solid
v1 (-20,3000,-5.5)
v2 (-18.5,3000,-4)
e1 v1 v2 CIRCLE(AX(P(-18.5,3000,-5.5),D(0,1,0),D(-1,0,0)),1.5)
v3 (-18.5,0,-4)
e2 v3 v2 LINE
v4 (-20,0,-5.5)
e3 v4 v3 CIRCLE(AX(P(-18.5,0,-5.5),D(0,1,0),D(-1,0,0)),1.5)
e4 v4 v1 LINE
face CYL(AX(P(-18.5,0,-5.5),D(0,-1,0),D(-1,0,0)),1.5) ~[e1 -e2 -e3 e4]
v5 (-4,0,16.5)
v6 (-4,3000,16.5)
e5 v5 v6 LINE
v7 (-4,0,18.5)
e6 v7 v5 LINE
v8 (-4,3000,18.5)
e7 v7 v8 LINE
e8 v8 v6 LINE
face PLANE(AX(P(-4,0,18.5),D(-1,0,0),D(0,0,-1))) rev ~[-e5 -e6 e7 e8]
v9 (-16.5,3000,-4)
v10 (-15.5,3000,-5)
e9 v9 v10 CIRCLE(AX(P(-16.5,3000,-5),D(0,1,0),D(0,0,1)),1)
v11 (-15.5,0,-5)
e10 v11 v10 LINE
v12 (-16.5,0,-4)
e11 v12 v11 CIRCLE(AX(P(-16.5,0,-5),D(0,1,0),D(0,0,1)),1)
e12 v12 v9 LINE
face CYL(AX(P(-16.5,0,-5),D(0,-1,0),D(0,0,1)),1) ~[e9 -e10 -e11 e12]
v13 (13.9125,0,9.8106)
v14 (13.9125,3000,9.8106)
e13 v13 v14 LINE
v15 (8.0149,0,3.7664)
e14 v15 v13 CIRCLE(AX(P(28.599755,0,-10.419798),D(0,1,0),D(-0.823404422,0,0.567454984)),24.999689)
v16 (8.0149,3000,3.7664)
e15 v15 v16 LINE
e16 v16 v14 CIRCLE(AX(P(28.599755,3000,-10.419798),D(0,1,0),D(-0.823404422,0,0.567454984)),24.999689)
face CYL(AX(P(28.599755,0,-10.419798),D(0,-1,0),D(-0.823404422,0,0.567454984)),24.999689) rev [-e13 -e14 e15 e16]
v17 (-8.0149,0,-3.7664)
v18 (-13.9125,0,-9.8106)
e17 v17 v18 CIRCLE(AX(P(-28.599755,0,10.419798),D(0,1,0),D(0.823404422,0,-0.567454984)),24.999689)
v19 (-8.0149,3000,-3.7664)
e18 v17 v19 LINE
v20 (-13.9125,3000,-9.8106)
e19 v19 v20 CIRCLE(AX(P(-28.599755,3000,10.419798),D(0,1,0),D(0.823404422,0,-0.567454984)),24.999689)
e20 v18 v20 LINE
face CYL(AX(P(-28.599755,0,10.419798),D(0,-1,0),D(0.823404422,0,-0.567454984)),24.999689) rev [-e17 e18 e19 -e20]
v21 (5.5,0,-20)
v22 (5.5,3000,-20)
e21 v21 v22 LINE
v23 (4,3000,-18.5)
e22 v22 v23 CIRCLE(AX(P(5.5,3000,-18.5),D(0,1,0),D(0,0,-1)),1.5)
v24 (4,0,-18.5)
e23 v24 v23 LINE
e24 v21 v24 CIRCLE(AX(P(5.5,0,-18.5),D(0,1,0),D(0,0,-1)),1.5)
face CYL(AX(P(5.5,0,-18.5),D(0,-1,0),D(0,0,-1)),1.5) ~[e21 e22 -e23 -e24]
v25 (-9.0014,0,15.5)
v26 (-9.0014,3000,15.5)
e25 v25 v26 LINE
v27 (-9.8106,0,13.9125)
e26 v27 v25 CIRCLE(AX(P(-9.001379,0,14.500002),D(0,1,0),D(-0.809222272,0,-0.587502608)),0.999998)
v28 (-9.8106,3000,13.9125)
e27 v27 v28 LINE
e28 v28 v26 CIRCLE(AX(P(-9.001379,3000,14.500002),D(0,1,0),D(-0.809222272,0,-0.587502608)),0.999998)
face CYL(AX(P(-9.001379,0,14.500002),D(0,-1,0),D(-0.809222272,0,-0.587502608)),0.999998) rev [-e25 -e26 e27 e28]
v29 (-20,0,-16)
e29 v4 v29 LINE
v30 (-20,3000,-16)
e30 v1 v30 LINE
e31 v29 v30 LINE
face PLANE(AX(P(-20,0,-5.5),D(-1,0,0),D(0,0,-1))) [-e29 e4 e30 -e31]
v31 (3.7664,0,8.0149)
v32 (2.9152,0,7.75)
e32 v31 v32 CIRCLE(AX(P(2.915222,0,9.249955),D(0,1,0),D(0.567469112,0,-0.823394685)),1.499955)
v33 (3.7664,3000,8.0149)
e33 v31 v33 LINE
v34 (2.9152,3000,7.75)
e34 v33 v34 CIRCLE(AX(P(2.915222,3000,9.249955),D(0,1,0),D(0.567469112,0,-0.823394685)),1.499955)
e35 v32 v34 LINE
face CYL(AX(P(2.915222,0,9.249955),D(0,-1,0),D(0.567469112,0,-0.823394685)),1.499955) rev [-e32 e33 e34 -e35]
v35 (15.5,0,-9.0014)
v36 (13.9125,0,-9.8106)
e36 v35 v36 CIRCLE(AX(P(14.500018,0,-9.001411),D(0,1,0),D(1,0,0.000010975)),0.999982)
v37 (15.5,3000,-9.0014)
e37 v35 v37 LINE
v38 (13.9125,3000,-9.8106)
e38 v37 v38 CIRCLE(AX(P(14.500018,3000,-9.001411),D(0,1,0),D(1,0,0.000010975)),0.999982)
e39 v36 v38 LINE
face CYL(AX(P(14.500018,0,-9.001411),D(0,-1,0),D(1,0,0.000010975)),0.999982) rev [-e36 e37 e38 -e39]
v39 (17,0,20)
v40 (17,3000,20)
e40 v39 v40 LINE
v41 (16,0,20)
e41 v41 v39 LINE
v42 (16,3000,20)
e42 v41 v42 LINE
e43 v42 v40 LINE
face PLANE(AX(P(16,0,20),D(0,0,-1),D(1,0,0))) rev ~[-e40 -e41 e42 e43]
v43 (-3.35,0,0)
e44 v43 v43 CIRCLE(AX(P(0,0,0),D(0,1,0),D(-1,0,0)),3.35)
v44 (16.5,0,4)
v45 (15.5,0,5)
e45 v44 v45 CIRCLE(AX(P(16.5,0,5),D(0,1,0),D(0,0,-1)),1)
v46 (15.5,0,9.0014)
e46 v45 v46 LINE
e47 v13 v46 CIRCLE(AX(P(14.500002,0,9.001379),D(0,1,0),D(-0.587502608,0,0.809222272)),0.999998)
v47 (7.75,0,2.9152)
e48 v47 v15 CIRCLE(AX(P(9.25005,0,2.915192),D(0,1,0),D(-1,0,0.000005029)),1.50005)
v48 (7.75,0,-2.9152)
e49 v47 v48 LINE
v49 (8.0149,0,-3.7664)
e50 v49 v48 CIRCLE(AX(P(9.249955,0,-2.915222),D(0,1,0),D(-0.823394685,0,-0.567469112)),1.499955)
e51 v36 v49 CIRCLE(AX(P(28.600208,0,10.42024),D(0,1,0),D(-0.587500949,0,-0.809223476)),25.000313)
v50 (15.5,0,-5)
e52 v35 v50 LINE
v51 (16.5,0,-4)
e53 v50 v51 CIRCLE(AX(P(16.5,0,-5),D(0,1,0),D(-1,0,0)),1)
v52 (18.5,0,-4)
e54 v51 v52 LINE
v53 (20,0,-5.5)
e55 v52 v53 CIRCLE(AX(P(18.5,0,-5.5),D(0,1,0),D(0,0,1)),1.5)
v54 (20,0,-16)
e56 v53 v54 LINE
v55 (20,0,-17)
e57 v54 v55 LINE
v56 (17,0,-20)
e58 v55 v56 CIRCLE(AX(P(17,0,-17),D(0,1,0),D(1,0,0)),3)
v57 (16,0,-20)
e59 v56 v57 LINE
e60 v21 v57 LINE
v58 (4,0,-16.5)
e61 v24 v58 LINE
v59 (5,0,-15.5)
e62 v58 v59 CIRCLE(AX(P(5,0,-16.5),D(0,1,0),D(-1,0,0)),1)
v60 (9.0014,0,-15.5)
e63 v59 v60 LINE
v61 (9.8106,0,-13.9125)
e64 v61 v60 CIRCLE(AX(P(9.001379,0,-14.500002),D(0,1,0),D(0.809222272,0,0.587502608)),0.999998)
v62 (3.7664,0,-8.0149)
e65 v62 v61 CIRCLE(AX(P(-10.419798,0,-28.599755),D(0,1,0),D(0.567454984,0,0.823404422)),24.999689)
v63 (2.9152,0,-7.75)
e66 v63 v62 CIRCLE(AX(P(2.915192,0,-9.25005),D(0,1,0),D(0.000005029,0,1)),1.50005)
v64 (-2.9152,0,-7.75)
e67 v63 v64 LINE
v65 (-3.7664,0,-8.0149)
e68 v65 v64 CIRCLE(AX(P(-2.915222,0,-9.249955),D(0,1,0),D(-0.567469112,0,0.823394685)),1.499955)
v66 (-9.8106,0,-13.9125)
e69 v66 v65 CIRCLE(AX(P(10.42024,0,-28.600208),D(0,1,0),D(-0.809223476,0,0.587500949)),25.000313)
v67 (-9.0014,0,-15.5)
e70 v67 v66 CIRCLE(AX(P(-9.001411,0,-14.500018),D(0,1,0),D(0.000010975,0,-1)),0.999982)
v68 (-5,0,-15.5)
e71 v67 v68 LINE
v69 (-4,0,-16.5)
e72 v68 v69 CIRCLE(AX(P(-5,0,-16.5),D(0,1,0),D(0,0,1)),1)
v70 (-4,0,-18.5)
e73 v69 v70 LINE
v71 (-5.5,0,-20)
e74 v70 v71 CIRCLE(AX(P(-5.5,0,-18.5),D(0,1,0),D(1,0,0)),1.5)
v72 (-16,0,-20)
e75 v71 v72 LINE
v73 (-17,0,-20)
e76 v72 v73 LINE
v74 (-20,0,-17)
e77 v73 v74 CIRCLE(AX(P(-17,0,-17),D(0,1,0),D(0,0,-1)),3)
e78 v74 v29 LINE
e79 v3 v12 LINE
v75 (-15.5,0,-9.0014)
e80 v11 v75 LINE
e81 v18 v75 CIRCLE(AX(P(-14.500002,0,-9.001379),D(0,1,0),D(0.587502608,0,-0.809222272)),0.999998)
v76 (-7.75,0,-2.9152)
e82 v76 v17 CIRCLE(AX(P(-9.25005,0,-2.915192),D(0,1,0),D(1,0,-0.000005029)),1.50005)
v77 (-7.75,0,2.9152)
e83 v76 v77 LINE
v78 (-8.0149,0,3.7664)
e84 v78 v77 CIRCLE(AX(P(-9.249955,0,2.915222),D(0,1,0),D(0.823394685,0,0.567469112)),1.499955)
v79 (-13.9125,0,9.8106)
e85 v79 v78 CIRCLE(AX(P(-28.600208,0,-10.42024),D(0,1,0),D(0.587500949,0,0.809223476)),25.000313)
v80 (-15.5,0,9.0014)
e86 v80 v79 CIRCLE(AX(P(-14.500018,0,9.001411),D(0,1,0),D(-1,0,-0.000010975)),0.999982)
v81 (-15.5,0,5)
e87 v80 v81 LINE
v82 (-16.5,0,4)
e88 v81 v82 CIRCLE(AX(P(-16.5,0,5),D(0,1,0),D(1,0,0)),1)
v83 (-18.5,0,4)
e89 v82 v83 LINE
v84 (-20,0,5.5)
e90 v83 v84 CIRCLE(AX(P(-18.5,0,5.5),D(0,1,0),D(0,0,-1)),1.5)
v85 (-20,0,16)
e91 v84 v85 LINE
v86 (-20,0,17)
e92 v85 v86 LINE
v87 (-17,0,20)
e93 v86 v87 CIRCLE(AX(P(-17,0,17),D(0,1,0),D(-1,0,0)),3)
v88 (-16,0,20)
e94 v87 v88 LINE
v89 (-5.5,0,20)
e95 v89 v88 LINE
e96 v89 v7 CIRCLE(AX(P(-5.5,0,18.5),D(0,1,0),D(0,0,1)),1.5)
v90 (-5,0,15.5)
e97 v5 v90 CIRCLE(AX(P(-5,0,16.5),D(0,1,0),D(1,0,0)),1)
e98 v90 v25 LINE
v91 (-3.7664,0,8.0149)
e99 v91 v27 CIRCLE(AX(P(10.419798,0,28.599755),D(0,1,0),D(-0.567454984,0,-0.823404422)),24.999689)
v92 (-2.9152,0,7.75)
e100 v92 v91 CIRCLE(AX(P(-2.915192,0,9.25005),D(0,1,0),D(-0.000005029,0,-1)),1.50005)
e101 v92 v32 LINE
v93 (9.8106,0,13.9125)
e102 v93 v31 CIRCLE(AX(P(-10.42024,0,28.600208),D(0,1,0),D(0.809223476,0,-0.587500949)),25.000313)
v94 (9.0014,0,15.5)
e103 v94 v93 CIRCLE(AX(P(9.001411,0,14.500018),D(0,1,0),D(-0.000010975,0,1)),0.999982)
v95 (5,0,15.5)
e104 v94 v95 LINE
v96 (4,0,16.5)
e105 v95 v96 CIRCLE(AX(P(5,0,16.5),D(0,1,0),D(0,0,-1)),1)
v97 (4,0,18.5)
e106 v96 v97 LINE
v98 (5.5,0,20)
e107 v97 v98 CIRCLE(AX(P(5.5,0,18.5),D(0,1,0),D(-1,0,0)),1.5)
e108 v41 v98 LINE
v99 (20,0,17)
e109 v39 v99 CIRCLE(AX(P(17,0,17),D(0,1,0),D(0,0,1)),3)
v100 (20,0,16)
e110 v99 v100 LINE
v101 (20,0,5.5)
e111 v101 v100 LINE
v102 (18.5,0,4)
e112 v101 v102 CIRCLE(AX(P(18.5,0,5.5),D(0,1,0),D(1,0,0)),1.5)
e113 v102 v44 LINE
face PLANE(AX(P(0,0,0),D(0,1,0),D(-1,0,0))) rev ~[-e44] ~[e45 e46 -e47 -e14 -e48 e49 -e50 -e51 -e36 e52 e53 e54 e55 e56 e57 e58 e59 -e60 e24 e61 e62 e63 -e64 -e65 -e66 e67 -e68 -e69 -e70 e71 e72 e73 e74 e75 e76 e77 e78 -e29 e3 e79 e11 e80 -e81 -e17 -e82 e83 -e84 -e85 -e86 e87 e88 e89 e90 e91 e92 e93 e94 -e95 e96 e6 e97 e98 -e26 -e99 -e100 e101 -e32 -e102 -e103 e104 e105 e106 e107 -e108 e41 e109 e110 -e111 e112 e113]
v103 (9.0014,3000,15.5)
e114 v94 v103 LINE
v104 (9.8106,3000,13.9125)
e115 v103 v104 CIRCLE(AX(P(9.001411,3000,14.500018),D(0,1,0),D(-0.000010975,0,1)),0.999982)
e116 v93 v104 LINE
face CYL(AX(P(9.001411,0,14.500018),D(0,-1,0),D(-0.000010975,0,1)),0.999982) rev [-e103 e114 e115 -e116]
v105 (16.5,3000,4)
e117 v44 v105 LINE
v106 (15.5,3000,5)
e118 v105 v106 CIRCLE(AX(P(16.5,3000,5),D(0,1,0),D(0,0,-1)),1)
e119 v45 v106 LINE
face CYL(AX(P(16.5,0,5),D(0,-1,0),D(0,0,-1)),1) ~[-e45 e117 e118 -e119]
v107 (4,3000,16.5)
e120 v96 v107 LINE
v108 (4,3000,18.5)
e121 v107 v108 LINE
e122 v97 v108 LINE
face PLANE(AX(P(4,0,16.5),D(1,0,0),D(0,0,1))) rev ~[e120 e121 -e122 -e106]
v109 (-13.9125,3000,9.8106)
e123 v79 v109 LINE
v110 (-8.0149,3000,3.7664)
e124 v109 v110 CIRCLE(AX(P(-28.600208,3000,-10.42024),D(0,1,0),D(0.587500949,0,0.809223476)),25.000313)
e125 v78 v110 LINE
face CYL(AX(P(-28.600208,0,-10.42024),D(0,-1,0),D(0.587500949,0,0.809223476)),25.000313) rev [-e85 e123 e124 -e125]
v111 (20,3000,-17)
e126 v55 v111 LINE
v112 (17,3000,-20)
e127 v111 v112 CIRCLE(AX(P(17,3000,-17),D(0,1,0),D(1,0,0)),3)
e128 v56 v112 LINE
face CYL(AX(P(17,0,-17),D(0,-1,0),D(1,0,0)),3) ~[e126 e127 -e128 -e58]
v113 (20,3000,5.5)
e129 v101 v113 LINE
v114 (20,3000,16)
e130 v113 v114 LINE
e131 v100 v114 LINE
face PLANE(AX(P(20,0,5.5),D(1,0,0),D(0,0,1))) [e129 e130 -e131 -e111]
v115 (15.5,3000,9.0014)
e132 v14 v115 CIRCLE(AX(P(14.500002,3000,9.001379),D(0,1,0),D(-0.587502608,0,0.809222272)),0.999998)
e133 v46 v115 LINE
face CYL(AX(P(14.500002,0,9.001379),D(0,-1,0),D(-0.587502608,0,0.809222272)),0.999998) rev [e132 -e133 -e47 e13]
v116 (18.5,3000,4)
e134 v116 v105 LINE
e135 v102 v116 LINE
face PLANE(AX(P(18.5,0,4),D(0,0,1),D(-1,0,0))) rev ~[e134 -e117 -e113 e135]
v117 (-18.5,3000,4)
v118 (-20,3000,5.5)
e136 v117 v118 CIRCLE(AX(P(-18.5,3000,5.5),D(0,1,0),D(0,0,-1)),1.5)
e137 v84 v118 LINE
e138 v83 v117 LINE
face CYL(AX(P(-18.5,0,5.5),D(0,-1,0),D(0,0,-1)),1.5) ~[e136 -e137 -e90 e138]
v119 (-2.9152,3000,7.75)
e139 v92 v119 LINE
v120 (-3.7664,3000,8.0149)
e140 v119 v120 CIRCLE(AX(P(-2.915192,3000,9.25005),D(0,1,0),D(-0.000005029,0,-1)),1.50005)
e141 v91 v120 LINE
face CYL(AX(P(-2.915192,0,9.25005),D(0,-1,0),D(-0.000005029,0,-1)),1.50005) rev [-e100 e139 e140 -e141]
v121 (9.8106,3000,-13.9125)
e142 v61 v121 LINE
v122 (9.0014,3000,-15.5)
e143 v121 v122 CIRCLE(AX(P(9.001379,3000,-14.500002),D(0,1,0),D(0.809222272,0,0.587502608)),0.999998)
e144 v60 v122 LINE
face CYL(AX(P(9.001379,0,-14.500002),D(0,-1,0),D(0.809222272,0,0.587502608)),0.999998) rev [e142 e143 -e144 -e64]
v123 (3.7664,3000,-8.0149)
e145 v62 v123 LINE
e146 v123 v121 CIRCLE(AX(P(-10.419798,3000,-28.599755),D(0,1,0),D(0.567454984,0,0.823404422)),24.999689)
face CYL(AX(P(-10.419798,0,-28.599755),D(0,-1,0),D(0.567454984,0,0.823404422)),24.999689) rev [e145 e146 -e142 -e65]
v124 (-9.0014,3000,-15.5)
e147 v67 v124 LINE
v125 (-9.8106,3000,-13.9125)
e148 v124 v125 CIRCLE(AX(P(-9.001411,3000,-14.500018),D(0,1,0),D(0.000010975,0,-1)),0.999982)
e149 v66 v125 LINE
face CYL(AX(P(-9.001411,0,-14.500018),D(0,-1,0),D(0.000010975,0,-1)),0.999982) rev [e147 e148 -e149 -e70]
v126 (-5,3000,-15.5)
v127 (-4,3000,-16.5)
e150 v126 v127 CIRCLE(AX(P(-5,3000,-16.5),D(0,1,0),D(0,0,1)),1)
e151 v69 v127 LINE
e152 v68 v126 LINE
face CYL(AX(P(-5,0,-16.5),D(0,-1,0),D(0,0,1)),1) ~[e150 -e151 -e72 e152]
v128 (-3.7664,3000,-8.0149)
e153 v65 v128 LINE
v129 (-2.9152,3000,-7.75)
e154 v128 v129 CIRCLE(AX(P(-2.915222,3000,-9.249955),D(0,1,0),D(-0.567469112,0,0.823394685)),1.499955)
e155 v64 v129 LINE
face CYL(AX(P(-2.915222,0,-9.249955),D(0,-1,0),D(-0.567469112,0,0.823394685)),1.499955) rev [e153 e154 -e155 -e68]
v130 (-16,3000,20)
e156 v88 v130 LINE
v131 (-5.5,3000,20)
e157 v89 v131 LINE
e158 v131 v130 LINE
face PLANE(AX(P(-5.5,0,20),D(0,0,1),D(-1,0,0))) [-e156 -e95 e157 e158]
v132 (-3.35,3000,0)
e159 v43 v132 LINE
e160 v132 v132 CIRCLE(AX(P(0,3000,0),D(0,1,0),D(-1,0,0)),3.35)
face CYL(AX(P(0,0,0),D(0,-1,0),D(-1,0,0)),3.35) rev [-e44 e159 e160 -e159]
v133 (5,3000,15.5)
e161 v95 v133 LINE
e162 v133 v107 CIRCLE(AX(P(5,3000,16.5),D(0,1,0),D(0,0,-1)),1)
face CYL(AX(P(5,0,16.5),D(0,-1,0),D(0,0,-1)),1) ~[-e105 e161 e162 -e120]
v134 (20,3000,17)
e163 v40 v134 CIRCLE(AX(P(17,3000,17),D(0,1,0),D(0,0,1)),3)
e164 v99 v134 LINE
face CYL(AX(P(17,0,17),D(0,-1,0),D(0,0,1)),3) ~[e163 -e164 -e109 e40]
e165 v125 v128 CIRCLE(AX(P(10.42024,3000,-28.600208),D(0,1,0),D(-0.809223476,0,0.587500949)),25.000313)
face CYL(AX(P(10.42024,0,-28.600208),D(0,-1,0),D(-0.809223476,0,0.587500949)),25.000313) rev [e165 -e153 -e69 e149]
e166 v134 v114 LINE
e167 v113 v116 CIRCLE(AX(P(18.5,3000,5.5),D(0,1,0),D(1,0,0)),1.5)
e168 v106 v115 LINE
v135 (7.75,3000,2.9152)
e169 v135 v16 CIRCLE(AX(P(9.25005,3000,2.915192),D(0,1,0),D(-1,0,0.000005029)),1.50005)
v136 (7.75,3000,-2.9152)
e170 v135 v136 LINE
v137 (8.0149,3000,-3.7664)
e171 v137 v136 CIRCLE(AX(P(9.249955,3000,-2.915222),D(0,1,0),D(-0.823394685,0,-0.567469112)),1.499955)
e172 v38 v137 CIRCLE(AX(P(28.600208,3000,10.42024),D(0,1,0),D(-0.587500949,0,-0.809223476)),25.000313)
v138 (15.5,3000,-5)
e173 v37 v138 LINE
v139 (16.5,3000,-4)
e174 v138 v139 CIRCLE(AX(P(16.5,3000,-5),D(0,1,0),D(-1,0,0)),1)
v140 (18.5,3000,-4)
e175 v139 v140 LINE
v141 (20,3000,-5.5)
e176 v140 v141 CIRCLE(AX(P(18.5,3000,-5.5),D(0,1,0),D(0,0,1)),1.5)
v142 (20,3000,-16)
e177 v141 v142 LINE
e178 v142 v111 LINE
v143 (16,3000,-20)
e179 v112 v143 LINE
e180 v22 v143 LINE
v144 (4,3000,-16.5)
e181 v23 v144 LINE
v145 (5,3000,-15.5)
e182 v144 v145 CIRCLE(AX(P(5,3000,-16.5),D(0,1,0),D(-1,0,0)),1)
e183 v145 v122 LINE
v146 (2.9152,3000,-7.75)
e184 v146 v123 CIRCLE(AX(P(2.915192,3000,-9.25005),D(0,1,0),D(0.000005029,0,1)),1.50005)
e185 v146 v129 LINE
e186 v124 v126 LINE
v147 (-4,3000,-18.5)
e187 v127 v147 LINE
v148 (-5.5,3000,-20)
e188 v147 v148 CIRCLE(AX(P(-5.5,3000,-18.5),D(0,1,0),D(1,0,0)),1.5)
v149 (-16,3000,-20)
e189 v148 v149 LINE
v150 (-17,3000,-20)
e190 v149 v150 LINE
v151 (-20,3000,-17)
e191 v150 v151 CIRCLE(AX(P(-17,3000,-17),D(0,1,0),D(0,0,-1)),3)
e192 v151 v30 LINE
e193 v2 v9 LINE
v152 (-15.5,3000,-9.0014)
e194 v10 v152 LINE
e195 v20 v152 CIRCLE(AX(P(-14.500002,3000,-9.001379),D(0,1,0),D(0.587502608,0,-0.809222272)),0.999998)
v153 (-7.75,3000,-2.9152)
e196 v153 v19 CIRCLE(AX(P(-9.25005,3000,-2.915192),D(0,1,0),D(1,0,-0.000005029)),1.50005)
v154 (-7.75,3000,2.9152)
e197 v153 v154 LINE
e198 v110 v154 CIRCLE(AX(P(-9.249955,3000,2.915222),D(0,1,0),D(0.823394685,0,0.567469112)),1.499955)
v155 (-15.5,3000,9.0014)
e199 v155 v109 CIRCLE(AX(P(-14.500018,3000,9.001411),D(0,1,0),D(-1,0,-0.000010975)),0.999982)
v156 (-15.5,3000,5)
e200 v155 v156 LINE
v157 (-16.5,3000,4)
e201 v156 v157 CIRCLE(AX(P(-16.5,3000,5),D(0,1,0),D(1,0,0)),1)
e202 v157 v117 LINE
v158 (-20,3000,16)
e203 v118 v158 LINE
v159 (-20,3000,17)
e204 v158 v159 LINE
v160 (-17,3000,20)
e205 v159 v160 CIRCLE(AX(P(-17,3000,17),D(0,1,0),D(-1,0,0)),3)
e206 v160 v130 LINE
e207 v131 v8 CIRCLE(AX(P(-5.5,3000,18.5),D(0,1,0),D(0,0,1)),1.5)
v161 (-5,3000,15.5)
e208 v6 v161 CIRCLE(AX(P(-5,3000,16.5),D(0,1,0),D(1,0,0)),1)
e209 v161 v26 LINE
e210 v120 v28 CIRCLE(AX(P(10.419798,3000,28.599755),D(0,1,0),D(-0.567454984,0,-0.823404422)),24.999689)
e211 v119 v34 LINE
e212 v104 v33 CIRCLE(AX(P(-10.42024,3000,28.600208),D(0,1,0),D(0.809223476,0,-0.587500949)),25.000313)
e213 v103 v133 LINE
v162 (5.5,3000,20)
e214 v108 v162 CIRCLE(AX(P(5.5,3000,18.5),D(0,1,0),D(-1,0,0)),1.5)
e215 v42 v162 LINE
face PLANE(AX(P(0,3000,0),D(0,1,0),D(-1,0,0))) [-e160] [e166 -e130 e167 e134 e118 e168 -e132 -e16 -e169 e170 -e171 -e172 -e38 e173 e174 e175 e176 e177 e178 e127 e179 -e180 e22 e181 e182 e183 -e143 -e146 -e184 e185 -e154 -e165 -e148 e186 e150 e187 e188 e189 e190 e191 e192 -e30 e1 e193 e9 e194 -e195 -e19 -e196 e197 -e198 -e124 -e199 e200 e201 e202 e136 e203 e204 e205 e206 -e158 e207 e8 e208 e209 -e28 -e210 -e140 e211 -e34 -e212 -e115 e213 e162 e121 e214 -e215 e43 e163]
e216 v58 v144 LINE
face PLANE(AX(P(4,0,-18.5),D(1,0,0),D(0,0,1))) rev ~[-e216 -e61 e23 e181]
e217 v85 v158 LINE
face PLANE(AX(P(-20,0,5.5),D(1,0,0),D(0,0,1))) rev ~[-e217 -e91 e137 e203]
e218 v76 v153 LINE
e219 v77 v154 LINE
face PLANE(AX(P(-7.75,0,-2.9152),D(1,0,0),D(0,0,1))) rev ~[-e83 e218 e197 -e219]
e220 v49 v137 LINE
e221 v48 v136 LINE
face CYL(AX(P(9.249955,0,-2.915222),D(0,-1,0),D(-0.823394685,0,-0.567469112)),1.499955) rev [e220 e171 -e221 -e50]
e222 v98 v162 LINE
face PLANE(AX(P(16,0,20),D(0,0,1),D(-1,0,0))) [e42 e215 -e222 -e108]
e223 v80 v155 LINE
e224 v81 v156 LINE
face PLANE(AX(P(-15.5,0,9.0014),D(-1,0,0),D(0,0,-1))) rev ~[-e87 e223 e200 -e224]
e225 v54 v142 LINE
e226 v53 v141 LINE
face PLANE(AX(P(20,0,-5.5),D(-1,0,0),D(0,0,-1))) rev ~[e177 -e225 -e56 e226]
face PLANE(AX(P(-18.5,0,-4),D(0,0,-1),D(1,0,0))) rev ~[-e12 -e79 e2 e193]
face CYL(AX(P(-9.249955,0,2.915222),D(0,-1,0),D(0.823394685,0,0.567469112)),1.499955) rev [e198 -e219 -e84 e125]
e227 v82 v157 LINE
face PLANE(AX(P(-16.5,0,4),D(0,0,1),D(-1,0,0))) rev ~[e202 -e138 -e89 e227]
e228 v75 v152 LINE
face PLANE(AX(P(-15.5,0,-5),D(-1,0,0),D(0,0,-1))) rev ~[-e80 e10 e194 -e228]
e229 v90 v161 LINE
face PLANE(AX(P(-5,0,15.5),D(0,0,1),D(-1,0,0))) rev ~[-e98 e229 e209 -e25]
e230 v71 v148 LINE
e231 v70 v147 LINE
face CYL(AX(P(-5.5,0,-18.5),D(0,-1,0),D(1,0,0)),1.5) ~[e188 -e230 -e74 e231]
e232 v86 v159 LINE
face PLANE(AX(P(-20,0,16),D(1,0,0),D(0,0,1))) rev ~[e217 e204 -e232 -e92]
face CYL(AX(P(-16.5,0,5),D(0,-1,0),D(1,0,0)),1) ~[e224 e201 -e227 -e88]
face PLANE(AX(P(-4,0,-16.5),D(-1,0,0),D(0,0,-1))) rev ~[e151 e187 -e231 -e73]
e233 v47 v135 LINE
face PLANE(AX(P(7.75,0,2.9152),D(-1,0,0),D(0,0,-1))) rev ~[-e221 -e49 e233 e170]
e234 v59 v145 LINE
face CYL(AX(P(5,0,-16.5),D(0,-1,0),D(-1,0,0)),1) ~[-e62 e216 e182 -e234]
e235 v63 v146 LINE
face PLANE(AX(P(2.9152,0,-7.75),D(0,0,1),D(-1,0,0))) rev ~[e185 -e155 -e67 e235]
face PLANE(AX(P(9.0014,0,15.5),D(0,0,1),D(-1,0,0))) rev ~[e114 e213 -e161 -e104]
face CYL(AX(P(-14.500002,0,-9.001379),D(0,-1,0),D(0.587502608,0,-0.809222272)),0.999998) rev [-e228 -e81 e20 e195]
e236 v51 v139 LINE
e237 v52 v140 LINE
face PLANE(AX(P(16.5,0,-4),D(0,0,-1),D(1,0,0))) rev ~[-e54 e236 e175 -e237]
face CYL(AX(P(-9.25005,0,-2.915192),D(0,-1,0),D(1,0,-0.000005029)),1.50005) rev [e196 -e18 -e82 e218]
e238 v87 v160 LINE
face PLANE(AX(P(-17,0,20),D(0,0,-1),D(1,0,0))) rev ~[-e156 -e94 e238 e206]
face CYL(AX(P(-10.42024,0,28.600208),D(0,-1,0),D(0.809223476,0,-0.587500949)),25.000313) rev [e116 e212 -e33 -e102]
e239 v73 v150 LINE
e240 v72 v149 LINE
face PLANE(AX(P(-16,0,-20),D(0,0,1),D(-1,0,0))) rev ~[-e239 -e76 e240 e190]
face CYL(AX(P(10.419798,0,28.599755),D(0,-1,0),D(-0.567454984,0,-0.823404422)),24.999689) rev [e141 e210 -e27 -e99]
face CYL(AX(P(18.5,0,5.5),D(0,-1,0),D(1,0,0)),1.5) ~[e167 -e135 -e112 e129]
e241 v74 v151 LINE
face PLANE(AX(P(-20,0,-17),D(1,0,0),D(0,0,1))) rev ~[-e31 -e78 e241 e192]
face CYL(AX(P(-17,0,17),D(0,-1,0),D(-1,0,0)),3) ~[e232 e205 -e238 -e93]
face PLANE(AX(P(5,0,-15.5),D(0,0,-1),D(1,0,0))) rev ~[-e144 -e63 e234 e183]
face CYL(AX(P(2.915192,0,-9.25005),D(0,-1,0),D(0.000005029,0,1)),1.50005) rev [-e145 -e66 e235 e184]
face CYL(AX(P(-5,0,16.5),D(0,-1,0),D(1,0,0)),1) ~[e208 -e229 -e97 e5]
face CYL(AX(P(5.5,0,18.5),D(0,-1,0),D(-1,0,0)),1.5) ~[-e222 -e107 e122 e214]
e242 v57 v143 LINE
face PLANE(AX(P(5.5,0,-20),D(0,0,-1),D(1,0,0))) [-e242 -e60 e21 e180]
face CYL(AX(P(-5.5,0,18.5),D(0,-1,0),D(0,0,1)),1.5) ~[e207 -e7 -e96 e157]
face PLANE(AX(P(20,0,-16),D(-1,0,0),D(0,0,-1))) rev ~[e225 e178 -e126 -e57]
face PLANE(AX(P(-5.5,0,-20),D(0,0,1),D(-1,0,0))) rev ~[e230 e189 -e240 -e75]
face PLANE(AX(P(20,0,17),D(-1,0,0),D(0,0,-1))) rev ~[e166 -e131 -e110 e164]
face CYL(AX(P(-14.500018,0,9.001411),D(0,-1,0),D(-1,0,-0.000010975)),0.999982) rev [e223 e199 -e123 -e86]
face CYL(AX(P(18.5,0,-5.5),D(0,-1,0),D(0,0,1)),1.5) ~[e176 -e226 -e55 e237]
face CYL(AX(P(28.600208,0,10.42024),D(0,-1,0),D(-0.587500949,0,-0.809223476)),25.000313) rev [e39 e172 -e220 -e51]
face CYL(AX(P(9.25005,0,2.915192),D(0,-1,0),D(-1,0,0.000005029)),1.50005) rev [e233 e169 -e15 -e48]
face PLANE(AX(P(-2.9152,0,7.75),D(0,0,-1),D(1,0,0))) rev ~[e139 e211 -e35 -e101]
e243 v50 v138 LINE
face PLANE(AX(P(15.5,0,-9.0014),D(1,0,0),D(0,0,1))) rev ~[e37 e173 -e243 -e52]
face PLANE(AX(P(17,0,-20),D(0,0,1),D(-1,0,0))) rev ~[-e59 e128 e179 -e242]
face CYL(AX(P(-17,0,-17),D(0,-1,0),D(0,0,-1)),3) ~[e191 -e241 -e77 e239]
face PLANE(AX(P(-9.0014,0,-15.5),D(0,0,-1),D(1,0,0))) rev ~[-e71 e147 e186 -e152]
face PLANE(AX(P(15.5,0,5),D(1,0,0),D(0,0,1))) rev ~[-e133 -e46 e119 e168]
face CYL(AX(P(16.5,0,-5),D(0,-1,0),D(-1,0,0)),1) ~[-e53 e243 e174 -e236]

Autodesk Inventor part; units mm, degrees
ref_plane "YZ Plane" through (0, 0, 0) normal (1, 0, 0) x (0, 1, 0)
ref_plane "Start Plane" through (0, 0, 0) normal (0, 1, 0) x (-1, 0, 0)
ref_plane "End Plane" through (0, 3000, 0) normal (0, 1, 0) x (-1, 0, 0)
sketch "Sketch1" plane through (0, 0, 0) normal (0, 1, 0) x (-1, 0, 0)
  circle A0 centre (0, 0) radius 3.35
  line L0 (20, 16) -> (20, 17)
  line L1 (17, 20) -> (16, 20)
  line L2 (4, 18.5) -> (4, 16.5)
  arc A1 (4, 16.5) -> (5, 15.5) centre (5, 16.5) ccw
  line L3 (5, 15.5) -> (9.0014, 15.5)
  arc A2 (9.8106, 13.9125) -> (9.0014, 15.5) centre (9.0014, 14.5) ccw
  arc A3 (3.7664, 8.0149) -> (9.8106, 13.9125) centre (-10.42, 28.6) ccw
  arc A4 (2.9152, 7.75) -> (3.7664, 8.0149) centre (2.9152, 9.25) ccw
  line L4 (2.9152, 7.75) -> (-2.9152, 7.75)
  arc A5 (-3.7664, 8.0149) -> (-2.9152, 7.75) centre (-2.9152, 9.25) ccw
  arc A6 (-9.8106, 13.9125) -> (-3.7664, 8.0149) centre (10.42, 28.6) ccw
  arc A7 (-9.0014, 15.5) -> (-9.8106, 13.9125) centre (-9.0014, 14.5) ccw
  line L5 (-9.0014, 15.5) -> (-5, 15.5)
  arc A8 (-5, 15.5) -> (-4, 16.5) centre (-5, 16.5) ccw
  line L6 (-4, 16.5) -> (-4, 18.5)
  line L7 (-16, 20) -> (-17, 20)
  line L8 (-20, 17) -> (-20, 16)
  line L9 (-18.5, 4) -> (-16.5, 4)
  arc A9 (-16.5, 4) -> (-15.5, 5) centre (-16.5, 5) ccw
  line L10 (-15.5, 5) -> (-15.5, 9.0014)
  arc A10 (-13.9125, 9.8106) -> (-15.5, 9.0014) centre (-14.5, 9.0014) ccw
  arc A11 (-8.0149, 3.7664) -> (-13.9125, 9.8106) centre (-28.6, -10.42) ccw
  arc A12 (-7.75, 2.9152) -> (-8.0149, 3.7664) centre (-9.25, 2.9152) ccw
  line L11 (-7.75, 2.9152) -> (-7.75, -2.9152)
  arc A13 (-8.0149, -3.7664) -> (-7.75, -2.9152) centre (-9.25, -2.9152) ccw
  arc A14 (-13.9125, -9.8106) -> (-8.0149, -3.7664) centre (-28.6, 10.42) ccw
  arc A15 (-15.5, -9.0014) -> (-13.9125, -9.8106) centre (-14.5, -9.0014) ccw
  line L12 (-15.5, -9.0014) -> (-15.5, -5)
  arc A16 (-15.5, -5) -> (-16.5, -4) centre (-16.5, -5) ccw
  line L13 (-16.5, -4) -> (-18.5, -4)
  line L14 (-20, -16) -> (-20, -17)
  line L15 (-17, -20) -> (-16, -20)
  line L16 (-4, -18.5) -> (-4, -16.5)
  arc A17 (-4, -16.5) -> (-5, -15.5) centre (-5, -16.5) ccw
  line L17 (-5, -15.5) -> (-9.0014, -15.5)
  arc A18 (-9.8106, -13.9125) -> (-9.0014, -15.5) centre (-9.0014, -14.5) ccw
  arc A19 (-3.7664, -8.0149) -> (-9.8106, -13.9125) centre (10.42, -28.6) ccw
  arc A20 (-2.9152, -7.75) -> (-3.7664, -8.0149) centre (-2.9152, -9.25) ccw
  line L18 (-2.9152, -7.75) -> (2.9152, -7.75)
  arc A21 (3.7664, -8.0149) -> (2.9152, -7.75) centre (2.9152, -9.25) ccw
  arc A22 (9.8106, -13.9125) -> (3.7664, -8.0149) centre (-10.42, -28.6) ccw
  arc A23 (9.0014, -15.5) -> (9.8106, -13.9125) centre (9.0014, -14.5) ccw
  line L19 (9.0014, -15.5) -> (5, -15.5)
  arc A24 (5, -15.5) -> (4, -16.5) centre (5, -16.5) ccw
  line L20 (4, -16.5) -> (4, -18.5)
  line L21 (16, -20) -> (17, -20)
  line L22 (20, -17) -> (20, -16)
  line L23 (18.5, -4) -> (16.5, -4)
  arc A25 (16.5, -4) -> (15.5, -5) centre (16.5, -5) ccw
  line L24 (15.5, -5) -> (15.5, -9.0014)
  arc A26 (13.9125, -9.8106) -> (15.5, -9.0014) centre (14.5, -9.0014) ccw
  arc A27 (8.0149, -3.7664) -> (13.9125, -9.8106) centre (28.6, 10.42) ccw
  arc A28 (7.75, -2.9152) -> (8.0149, -3.7664) centre (9.25, -2.9152) ccw
  line L25 (7.75, -2.9152) -> (7.75, 2.9152)
  arc A29 (8.0149, 3.7664) -> (7.75, 2.9152) centre (9.25, 2.9152) ccw
  arc A30 (13.9125, 9.8106) -> (8.0149, 3.7664) centre (28.6, -10.42) ccw
  arc A31 (15.5, 9.0014) -> (13.9125, 9.8106) centre (14.5, 9.0014) ccw
  line L26 (15.5, 9.0014) -> (15.5, 5)
  arc A32 (15.5, 5) -> (16.5, 4) centre (16.5, 5) ccw
  line L27 (16.5, 4) -> (18.5, 4)
  line L28 (-17, 20) -> (-5.5, 20)
  line L29 (-20, 5.5) -> (-20, 17)
  arc A33 (-17, 20) -> (-20, 17) centre (-17, 17) ccw
  arc A34 (-20, 5.5) -> (-18.5, 4) centre (-18.5, 5.5) ccw
  arc A35 (-4, 18.5) -> (-5.5, 20) centre (-5.5, 18.5) ccw
  line L30 (5.5, 20) -> (17, 20)
  arc A36 (5.5, 20) -> (4, 18.5) centre (5.5, 18.5) ccw
  line L31 (20, 5.5) -> (20, 17)
  arc A37 (20, 17) -> (17, 20) centre (17, 17) ccw
  arc A38 (18.5, 4) -> (20, 5.5) centre (18.5, 5.5) ccw
  line L32 (5.5, -20) -> (17, -20)
  arc A39 (4, -18.5) -> (5.5, -20) centre (5.5, -18.5) ccw
  line L33 (20, -5.5) -> (20, -17)
  arc A40 (17, -20) -> (20, -17) centre (17, -17) ccw
  arc A41 (20, -5.5) -> (18.5, -4) centre (18.5, -5.5) ccw
  line L34 (-20, -5.5) -> (-20, -17)
  line L35 (-5.5, -20) -> (-17, -20)
  arc A42 (-20, -17) -> (-17, -20) centre (-17, -17) ccw
  arc A43 (-5.5, -20) -> (-4, -18.5) centre (-5.5, -18.5) ccw
  arc A44 (-18.5, -4) -> (-20, -5.5) centre (-18.5, -5.5) ccw
extrude "Body" add sketch "Sketch1" along normal up to surface (3000 mm away) from surface at 0
sketch "Sketch2" plane through (0, 0, 0) normal (0, 1, 0) x (-1, 0, 0)
  line L0 (0, 0) -> (10, 0)
ref_plane "Work Plane3" through (0, 0, 0) normal (0, 0, -1) x (-1, 0, 0)
sketch "Sketch3" plane through (0, 0, 0) normal (0, 0, -1) x (-1, 0, 0)
  line L0 (-2, 0) -> (12, 0)
  line L1 (-2, 3000) -> (12, 3000)
  dimension "d7" = 3000
equation "\"G_OFFSET_START\" = 0"
equation "\"G_OFFSET_END\" = 0"
equation "\"G_L\" = 1200"
properties part number "11-040"
